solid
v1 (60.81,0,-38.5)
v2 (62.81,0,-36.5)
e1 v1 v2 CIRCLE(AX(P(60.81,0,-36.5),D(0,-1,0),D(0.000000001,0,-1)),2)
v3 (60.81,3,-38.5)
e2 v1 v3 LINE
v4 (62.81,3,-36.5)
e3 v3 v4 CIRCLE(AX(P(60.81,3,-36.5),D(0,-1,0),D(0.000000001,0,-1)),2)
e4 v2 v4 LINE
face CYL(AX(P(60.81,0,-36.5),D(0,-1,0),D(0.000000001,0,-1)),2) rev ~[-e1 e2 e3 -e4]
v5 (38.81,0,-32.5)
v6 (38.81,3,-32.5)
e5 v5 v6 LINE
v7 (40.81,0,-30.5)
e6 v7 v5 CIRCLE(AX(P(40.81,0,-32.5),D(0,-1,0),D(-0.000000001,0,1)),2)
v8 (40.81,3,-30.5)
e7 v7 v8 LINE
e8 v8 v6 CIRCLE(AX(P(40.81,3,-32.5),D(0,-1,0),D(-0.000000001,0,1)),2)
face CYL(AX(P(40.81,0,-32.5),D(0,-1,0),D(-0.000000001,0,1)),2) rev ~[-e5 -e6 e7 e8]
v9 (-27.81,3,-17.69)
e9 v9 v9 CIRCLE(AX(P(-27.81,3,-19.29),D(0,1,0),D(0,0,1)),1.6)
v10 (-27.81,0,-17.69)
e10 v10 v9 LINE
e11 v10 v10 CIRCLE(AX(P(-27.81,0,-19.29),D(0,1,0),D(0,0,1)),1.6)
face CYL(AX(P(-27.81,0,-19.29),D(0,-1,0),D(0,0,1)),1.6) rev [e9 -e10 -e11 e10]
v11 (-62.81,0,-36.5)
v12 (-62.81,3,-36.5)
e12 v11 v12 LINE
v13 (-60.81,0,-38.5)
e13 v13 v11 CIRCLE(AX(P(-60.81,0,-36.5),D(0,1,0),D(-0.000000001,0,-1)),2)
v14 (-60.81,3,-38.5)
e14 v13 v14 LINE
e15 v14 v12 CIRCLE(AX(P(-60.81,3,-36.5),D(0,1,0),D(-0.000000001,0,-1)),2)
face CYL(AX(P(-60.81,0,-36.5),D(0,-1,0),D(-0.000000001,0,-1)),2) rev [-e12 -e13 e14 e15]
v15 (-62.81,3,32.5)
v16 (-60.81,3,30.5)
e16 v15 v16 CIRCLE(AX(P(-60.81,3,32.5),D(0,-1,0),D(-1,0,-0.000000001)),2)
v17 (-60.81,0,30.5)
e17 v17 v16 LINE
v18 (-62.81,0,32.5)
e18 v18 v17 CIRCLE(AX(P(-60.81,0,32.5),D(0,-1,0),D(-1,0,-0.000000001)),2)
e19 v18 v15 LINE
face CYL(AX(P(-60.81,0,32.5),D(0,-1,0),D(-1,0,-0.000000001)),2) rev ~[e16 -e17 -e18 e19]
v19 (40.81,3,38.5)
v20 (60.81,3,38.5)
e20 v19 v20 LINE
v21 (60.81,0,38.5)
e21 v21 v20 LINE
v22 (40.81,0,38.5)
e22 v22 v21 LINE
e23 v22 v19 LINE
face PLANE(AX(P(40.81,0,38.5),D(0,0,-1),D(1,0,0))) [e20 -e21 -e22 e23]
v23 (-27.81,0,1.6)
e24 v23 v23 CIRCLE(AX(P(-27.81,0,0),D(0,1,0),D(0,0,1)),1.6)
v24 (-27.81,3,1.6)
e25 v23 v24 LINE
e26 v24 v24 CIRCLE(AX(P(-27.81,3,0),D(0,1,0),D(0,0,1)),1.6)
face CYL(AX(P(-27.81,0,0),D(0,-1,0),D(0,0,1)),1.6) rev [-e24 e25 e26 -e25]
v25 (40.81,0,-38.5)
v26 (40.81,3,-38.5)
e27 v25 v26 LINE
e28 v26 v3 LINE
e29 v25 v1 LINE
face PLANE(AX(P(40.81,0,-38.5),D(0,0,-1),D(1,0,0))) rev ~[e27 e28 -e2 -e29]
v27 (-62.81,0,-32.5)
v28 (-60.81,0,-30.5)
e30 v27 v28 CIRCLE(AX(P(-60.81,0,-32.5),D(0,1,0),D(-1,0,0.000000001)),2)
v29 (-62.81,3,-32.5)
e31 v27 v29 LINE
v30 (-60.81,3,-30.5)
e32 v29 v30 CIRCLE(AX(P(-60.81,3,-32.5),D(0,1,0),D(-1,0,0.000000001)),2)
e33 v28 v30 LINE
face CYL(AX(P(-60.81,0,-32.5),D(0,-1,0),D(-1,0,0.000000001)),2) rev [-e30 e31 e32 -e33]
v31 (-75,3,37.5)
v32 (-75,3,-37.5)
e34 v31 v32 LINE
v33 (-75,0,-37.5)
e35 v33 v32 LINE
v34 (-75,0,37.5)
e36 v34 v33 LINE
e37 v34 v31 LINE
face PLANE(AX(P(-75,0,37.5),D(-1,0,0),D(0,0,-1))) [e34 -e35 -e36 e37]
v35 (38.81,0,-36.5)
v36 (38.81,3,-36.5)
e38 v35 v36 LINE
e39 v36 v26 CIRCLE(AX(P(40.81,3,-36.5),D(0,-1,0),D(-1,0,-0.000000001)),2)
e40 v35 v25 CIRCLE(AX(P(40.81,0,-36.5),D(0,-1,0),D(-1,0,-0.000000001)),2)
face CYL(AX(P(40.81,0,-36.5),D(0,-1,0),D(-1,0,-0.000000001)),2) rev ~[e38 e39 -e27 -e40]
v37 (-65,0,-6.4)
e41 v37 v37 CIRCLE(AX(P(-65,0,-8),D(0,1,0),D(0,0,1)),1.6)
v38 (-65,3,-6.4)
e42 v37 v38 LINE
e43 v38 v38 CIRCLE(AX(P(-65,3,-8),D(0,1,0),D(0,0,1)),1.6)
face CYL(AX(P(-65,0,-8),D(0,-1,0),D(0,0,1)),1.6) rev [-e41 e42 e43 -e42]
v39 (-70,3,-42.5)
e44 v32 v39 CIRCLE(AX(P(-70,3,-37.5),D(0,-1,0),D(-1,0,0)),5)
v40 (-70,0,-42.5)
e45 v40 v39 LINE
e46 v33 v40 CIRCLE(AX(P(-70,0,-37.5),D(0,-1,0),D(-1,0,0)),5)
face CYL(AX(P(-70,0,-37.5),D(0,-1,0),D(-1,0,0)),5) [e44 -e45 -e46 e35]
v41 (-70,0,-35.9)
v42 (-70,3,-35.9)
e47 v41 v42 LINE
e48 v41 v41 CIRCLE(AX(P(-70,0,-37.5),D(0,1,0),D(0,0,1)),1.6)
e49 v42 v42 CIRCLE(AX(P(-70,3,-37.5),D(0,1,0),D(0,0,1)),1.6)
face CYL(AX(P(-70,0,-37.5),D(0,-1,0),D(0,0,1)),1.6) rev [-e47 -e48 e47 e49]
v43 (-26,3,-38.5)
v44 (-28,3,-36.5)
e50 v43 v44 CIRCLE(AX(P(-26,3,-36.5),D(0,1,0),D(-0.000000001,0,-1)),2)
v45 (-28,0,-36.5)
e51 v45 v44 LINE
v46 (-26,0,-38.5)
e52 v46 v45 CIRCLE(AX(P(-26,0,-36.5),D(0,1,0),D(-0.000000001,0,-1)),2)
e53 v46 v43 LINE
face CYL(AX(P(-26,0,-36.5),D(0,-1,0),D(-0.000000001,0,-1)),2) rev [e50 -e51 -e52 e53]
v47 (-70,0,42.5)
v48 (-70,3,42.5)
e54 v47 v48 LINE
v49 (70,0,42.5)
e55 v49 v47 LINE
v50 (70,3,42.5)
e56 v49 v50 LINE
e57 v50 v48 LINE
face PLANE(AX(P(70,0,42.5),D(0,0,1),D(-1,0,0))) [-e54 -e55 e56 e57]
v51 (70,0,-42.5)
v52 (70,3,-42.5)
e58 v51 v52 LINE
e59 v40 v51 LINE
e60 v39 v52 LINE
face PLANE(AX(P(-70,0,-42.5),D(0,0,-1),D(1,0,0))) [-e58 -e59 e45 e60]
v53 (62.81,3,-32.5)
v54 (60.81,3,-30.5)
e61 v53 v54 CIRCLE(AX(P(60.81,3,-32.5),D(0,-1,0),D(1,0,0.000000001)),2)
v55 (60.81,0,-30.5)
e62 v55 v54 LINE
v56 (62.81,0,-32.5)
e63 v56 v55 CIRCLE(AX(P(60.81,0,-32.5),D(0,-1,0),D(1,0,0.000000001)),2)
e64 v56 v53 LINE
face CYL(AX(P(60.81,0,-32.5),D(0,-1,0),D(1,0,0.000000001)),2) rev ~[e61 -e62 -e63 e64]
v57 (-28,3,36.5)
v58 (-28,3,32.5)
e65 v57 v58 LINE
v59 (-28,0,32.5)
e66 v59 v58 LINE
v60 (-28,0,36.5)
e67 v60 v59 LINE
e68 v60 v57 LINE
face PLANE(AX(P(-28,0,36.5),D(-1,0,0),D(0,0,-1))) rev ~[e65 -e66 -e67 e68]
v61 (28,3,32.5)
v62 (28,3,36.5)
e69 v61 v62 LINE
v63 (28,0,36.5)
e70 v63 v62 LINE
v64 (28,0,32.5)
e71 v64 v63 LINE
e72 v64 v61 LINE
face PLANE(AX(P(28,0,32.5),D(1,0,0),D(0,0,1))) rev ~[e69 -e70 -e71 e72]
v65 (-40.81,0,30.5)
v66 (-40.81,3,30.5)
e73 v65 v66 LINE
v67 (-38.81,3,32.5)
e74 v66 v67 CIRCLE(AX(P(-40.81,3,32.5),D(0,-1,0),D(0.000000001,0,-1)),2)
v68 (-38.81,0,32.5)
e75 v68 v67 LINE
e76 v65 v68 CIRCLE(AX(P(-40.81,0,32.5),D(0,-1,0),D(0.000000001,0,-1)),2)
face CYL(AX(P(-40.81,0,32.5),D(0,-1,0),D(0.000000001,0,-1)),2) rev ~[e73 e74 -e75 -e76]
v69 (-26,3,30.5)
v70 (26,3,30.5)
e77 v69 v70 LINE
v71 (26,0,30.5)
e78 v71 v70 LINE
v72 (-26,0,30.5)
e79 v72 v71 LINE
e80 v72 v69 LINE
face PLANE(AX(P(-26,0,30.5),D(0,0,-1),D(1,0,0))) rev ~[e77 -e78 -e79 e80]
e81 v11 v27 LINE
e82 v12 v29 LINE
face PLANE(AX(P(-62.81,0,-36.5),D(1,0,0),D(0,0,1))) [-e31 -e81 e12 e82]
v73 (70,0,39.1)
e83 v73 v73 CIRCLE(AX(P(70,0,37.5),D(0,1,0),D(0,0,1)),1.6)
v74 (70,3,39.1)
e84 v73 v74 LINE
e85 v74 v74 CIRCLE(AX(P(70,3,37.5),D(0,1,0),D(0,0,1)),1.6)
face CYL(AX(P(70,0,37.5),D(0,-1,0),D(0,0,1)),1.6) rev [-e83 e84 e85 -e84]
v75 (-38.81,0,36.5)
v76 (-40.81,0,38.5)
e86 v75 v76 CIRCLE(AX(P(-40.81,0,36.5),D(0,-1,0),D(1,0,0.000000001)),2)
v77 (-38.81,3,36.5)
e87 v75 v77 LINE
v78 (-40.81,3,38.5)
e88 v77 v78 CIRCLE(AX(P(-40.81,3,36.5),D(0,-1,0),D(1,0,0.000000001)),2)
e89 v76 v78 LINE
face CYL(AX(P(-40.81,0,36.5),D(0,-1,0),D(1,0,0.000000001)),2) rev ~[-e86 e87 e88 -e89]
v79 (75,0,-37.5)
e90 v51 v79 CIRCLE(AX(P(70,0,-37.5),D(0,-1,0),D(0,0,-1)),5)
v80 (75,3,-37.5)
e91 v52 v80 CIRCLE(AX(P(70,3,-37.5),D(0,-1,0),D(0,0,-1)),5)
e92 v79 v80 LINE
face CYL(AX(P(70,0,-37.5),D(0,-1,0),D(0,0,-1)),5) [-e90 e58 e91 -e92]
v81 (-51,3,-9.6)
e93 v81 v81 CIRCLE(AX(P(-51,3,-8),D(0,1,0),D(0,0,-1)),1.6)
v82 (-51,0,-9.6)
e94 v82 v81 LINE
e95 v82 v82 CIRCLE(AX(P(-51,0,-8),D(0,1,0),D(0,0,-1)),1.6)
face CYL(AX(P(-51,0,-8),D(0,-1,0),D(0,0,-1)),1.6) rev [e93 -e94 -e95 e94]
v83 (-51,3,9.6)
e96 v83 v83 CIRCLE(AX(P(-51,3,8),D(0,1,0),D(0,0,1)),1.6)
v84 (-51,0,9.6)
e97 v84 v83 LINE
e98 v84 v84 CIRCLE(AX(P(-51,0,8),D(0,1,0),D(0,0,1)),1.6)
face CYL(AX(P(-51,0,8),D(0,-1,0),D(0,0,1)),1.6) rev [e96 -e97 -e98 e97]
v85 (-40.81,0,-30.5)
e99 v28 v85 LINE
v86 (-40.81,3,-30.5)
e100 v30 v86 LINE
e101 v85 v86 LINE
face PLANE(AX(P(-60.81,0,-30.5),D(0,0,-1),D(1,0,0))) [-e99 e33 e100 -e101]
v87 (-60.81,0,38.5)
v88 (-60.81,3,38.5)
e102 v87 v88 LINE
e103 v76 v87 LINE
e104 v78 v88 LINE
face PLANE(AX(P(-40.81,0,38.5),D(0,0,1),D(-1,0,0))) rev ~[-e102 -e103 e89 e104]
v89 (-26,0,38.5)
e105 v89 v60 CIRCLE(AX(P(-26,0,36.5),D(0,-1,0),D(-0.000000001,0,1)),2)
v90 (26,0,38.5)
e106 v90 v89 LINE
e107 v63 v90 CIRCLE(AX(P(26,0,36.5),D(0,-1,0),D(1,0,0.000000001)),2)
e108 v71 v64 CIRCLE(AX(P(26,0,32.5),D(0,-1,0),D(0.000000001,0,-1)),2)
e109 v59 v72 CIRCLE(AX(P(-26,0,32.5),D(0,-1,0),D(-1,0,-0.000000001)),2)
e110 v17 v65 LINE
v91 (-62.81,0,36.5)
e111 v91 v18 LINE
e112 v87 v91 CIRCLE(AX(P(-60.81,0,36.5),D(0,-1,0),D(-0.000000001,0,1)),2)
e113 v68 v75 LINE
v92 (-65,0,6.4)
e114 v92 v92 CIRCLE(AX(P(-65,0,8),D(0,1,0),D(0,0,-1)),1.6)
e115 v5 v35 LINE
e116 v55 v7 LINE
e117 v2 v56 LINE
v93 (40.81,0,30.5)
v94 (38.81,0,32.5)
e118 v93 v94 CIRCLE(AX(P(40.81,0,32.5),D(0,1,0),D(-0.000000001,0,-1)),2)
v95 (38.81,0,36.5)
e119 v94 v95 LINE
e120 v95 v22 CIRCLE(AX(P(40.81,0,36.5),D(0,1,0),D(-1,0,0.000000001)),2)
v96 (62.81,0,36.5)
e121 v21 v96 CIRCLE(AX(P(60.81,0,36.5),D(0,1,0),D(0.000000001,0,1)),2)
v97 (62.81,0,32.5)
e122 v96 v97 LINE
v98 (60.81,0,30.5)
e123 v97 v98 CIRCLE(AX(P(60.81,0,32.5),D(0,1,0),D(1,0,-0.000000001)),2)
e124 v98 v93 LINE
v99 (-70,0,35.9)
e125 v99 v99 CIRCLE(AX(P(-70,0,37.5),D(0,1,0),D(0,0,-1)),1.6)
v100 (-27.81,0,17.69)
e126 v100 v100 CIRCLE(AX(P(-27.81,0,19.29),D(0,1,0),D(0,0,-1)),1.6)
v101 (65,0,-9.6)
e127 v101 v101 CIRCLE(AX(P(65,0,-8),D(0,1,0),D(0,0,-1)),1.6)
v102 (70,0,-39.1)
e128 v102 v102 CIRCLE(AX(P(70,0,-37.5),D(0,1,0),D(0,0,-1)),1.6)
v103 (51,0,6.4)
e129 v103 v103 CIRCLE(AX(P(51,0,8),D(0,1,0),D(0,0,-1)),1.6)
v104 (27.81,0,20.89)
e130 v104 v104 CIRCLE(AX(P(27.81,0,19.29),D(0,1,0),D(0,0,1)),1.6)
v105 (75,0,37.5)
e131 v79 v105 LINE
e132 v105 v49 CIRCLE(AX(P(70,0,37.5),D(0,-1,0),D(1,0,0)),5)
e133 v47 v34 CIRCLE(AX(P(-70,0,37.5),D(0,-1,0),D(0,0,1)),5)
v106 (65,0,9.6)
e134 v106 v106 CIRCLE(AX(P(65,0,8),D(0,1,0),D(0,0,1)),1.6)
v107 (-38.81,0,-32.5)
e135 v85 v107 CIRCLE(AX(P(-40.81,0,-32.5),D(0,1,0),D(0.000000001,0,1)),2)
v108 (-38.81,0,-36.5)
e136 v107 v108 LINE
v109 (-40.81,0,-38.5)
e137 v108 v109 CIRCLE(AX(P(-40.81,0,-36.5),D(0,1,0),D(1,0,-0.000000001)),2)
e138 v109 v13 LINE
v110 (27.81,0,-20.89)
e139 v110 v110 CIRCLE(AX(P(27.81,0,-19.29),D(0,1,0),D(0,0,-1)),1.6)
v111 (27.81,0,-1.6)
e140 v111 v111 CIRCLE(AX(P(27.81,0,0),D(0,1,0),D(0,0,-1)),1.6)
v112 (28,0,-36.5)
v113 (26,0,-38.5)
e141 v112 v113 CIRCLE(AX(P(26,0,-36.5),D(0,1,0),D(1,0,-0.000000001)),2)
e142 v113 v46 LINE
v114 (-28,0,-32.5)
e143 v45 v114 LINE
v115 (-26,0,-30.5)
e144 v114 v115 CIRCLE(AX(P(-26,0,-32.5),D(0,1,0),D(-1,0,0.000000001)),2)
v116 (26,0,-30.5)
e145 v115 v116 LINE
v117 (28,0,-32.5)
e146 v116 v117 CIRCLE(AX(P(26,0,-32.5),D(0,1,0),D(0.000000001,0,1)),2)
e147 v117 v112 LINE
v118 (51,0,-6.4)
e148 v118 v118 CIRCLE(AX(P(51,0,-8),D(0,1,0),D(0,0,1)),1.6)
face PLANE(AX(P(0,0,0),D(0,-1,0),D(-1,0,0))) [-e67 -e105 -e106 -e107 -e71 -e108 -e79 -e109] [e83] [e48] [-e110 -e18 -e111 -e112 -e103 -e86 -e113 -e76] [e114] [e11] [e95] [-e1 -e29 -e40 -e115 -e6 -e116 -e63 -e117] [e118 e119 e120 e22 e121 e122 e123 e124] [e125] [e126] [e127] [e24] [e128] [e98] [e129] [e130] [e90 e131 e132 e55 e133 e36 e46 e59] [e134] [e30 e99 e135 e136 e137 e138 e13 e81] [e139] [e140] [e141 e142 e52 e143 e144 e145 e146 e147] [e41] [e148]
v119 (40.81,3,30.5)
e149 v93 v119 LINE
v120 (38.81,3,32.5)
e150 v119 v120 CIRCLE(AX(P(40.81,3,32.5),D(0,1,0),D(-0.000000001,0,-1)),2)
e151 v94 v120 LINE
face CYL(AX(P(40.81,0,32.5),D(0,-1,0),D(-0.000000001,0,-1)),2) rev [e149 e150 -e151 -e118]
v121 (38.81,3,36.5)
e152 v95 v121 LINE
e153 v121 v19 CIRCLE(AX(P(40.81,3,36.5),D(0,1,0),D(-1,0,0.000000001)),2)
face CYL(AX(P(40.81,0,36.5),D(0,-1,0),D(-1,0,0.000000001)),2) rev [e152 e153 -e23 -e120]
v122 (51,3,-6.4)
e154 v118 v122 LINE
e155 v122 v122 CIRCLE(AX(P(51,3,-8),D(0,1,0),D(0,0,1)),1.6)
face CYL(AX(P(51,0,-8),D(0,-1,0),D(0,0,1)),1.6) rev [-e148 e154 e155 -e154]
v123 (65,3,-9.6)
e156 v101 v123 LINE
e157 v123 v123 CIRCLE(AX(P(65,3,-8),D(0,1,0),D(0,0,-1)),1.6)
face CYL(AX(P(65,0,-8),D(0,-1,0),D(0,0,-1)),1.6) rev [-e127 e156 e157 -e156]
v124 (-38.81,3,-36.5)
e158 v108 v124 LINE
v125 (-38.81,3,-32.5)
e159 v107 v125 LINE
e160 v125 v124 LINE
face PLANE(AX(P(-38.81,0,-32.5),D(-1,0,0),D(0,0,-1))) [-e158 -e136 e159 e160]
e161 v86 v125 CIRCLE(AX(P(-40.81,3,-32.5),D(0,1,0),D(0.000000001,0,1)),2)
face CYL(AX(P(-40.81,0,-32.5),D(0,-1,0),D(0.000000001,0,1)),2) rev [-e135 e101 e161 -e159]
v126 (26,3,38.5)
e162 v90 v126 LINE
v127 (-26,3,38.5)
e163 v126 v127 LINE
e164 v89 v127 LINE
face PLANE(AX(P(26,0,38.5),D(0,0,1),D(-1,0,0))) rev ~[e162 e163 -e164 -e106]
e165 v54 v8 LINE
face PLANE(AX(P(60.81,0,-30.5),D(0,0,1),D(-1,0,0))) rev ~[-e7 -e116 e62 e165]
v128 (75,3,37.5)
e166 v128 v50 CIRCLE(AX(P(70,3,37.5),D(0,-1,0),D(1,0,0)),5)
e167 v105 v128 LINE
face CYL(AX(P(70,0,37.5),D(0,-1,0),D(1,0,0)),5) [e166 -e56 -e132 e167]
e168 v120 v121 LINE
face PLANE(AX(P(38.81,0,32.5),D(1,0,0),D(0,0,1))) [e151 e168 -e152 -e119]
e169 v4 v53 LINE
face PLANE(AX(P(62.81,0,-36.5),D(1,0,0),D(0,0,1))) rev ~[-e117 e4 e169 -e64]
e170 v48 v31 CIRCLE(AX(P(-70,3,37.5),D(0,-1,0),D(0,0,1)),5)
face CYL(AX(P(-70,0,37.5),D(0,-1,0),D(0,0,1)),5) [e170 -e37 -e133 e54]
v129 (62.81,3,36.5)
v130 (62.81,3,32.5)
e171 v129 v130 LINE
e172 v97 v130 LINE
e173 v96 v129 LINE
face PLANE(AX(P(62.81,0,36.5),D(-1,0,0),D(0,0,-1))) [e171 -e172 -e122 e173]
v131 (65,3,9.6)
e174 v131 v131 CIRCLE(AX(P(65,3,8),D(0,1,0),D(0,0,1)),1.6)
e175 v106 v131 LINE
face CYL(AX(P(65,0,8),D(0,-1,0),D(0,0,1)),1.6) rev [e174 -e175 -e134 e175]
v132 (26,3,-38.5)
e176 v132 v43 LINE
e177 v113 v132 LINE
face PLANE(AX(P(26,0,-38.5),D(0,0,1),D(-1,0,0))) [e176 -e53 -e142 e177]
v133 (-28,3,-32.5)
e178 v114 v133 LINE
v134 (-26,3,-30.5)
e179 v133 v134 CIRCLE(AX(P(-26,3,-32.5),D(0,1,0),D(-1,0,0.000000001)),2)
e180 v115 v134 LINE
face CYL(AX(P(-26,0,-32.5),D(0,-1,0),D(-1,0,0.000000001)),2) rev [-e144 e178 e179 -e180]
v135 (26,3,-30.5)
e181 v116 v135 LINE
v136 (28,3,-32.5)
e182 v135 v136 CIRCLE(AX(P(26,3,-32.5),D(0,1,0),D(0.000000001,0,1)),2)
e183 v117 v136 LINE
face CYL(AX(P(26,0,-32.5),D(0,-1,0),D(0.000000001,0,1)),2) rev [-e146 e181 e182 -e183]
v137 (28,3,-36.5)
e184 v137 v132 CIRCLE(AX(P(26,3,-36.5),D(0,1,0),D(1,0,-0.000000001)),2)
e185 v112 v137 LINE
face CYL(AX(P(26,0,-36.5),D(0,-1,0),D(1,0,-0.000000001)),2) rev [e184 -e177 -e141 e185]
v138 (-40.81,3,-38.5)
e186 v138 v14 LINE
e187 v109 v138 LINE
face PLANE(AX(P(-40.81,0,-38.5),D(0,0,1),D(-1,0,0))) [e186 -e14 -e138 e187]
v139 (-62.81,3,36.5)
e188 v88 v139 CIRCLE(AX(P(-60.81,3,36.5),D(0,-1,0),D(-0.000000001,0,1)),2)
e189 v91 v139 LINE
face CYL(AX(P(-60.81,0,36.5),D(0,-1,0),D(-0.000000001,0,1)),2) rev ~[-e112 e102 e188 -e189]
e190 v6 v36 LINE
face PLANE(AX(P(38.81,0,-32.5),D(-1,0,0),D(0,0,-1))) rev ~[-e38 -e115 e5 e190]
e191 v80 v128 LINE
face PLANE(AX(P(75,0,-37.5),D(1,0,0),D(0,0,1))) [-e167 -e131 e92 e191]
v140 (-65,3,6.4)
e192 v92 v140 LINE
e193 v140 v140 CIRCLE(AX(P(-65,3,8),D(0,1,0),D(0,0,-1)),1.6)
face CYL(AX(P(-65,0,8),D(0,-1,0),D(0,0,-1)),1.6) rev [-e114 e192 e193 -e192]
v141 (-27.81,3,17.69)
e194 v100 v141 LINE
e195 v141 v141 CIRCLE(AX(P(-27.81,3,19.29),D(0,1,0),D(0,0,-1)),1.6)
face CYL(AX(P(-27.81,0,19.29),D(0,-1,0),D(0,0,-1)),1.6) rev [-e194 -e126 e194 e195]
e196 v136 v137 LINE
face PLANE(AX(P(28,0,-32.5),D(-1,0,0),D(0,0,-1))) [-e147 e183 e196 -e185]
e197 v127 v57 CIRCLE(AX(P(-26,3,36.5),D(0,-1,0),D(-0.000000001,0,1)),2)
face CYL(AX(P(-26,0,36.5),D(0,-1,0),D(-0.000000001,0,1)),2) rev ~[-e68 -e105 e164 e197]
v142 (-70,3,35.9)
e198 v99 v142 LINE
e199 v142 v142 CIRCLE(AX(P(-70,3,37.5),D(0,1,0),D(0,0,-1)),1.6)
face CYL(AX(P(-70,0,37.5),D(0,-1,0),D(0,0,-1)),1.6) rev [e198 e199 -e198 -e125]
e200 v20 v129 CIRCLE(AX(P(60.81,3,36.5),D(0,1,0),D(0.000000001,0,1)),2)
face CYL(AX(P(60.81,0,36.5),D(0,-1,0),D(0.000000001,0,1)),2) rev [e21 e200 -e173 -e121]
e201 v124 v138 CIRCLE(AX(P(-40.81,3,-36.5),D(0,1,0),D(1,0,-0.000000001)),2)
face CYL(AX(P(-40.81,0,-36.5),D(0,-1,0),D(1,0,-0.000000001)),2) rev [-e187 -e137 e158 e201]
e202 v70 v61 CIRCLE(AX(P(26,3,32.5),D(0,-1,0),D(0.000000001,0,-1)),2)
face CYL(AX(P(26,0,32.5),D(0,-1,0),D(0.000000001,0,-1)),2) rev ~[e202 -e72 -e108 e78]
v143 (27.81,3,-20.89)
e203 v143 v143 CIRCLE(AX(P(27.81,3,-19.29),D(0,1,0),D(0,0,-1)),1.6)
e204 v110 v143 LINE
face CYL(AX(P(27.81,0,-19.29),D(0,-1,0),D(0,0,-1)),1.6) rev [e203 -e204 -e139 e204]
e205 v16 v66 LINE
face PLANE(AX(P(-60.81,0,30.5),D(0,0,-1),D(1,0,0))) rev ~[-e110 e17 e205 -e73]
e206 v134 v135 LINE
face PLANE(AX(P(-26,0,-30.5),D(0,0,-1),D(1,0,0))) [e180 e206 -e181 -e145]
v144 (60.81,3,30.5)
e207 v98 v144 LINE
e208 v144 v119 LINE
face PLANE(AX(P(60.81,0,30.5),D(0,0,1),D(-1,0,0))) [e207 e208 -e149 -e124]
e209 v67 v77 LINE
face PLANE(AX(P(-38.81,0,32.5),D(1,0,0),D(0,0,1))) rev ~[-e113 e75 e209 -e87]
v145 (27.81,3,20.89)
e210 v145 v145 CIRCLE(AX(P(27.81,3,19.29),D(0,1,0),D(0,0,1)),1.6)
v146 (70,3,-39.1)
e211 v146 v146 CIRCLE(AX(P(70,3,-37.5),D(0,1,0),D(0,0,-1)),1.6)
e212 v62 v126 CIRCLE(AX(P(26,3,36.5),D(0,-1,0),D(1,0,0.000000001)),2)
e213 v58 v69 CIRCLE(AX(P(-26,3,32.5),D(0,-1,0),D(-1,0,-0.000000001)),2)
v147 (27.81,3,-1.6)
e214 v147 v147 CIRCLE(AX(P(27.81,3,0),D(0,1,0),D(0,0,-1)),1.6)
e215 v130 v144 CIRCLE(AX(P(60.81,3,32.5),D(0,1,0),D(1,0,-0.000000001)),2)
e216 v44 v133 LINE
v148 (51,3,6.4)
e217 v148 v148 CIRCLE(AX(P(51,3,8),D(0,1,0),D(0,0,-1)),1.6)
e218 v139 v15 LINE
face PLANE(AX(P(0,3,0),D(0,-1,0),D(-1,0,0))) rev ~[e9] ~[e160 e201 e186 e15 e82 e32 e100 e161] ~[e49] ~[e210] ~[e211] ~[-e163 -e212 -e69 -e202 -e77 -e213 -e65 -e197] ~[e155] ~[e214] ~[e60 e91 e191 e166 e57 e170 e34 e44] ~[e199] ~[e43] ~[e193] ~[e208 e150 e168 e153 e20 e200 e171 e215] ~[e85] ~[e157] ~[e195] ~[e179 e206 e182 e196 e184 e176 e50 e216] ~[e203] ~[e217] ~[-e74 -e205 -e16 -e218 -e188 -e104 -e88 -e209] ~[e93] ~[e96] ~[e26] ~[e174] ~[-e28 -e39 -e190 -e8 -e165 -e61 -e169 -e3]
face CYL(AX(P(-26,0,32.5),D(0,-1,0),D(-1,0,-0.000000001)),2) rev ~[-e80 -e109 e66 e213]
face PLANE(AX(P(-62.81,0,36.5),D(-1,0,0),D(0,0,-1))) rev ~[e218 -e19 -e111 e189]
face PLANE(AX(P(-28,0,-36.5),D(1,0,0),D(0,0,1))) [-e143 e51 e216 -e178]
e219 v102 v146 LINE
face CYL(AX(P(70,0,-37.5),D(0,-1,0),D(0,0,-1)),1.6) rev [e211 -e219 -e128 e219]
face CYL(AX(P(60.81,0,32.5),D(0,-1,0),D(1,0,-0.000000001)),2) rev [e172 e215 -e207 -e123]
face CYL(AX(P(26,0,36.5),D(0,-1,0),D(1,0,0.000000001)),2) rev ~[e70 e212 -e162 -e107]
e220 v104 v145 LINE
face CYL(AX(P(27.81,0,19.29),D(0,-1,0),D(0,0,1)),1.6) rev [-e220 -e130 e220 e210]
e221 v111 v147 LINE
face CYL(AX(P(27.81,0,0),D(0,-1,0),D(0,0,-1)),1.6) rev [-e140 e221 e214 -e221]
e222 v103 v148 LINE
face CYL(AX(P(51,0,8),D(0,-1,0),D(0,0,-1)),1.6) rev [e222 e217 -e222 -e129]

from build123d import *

# Parameters (mm, degrees)
SKETCH1_R           = 1.6
BOSS_EXTRUDE1_DEPTH = 3


with BuildPart() as part:
    # Sketch1 → Boss-Extrude1 (new body)
    with BuildSketch(Plane(origin=(0, 0, 0), x_dir=(1, 0, 0), z_dir=(0, 1, 0))):
        with BuildLine():
            Line((-70, 42.5), (70, 42.5))
            ThreePointArc((70, 42.5), (73.535533906, 41.035533906), (75, 37.5))
            Line((75, 37.5), (75, -37.5))
            ThreePointArc((75, -37.5), (73.535533906, -41.035533906), (70, -42.5))
            Line((70, -42.5), (-70, -42.5))
            ThreePointArc((-70, -42.5), (-73.535533906, -41.035533906), (-75, -37.5))
            Line((-75, -37.5), (-75, 37.5))
            ThreePointArc((-75, 37.5), (-73.535533906, 41.035533906), (-70, 42.5))
        make_face()
        with Locations(Location((-65, 8, 0), (0, 0, 270))):
            Circle(SKETCH1_R, mode=Mode.SUBTRACT)
        with Locations(Location((-65, -8, 0), (0, 0, 90))):
            Circle(SKETCH1_R, mode=Mode.SUBTRACT)
        with Locations(Location((-51, 8, 0), (0, 0, 90))):
            Circle(SKETCH1_R, mode=Mode.SUBTRACT)
        with Locations(Location((-51, -8, 0), (0, 0, 270))):
            Circle(SKETCH1_R, mode=Mode.SUBTRACT)
        with Locations(Location((51, -8, 0), (0, 0, 90))):
            Circle(SKETCH1_R, mode=Mode.SUBTRACT)
        with Locations(Location((51, 8, 0), (0, 0, 270))):
            Circle(SKETCH1_R, mode=Mode.SUBTRACT)
        with Locations(Location((65, -8, 0), (0, 0, 270))):
            Circle(SKETCH1_R, mode=Mode.SUBTRACT)
        with Locations(Location((65, 8, 0), (0, 0, 90))):
            Circle(SKETCH1_R, mode=Mode.SUBTRACT)
        with Locations(Location((-27.81, 19.29, 0), (0, 0, 270))):
            Circle(SKETCH1_R, mode=Mode.SUBTRACT)
        with Locations(Location((-27.81, 0, 0), (0, 0, 270))):
            Circle(SKETCH1_R, mode=Mode.SUBTRACT)
        with Locations(Location((-27.81, -19.29, 0), (0, 0, 90))):
            Circle(SKETCH1_R, mode=Mode.SUBTRACT)
        with Locations(Location((27.81, -19.29, 0), (0, 0, 270))):
            Circle(SKETCH1_R, mode=Mode.SUBTRACT)
        with Locations(Location((27.81, 19.29, 0), (0, 0, 90))):
            Circle(SKETCH1_R, mode=Mode.SUBTRACT)
        with Locations(Location((27.81, 0, 0), (0, 0, 90))):
            Circle(SKETCH1_R, mode=Mode.SUBTRACT)
        with Locations(Location((-70, 37.5, 0), (0, 0, 270))):
            Circle(SKETCH1_R, mode=Mode.SUBTRACT)
        with Locations(Location((-70, -37.5, 0), (0, 0, 90))):
            Circle(SKETCH1_R, mode=Mode.SUBTRACT)
        with Locations(Location((70, -37.5, 0), (0, 0, 270))):
            Circle(SKETCH1_R, mode=Mode.SUBTRACT)
        with Locations(Location((70, 37.5, 0), (0, 0, 90))):
            Circle(SKETCH1_R, mode=Mode.SUBTRACT)
        with BuildLine():
            Line((28, 32.5), (28, 36.5))
            ThreePointArc((28, 36.5), (27.414213562, 37.914213562), (26, 38.5))
            Line((26, 38.5), (-26, 38.5))
            ThreePointArc((-26, 38.5), (-27.414213562, 37.914213562), (-28, 36.5))
            Line((-28, 36.5), (-28, 32.5))
            ThreePointArc((-28, 32.5), (-27.414213562, 31.085786438), (-26, 30.5))
            Line((-26, 30.5), (26, 30.5))
            ThreePointArc((26, 30.5), (27.414213562, 31.085786438), (28, 32.5))
        make_face(mode=Mode.SUBTRACT)
        with BuildLine():
            Line((-26, -30.5), (26, -30.5))
            ThreePointArc((26, -30.5), (27.414213562, -31.085786438), (28, -32.5))
            Line((28, -32.5), (28, -36.5))
            ThreePointArc((28, -36.5), (27.414213562, -37.914213562), (26, -38.5))
            Line((26, -38.5), (-26, -38.5))
            ThreePointArc((-26, -38.5), (-27.414213562, -37.914213562), (-28, -36.5))
            Line((-28, -36.5), (-28, -32.5))
            ThreePointArc((-28, -32.5), (-27.414213562, -31.085786438), (-26, -30.5))
        make_face(mode=Mode.SUBTRACT)
        with BuildLine():
            Line((-38.81, 32.5), (-38.81, 36.5))
            ThreePointArc((-38.81, 36.5), (-39.395786438, 37.914213562), (-40.81, 38.5))
            Line((-40.81, 38.5), (-60.81, 38.5))
            ThreePointArc((-60.81, 38.5), (-62.224213562, 37.914213562), (-62.81, 36.5))
            Line((-62.81, 36.5), (-62.81, 32.5))
            ThreePointArc((-62.81, 32.5), (-62.224213562, 31.085786438), (-60.81, 30.5))
            Line((-60.81, 30.5), (-40.81, 30.5))
            ThreePointArc((-40.81, 30.5), (-39.395786438, 31.085786438), (-38.81, 32.5))
        make_face(mode=Mode.SUBTRACT)
        with BuildLine():
            Line((-60.81, -30.5), (-40.81, -30.5))
            ThreePointArc((-40.81, -30.5), (-39.395786438, -31.085786438), (-38.81, -32.5))
            Line((-38.81, -32.5), (-38.81, -36.5))
            ThreePointArc((-38.81, -36.5), (-39.395786438, -37.914213562), (-40.81, -38.5))
            Line((-40.81, -38.5), (-60.81, -38.5))
            ThreePointArc((-60.81, -38.5), (-62.224213562, -37.914213562), (-62.81, -36.5))
            Line((-62.81, -36.5), (-62.81, -32.5))
            ThreePointArc((-62.81, -32.5), (-62.224213562, -31.085786438), (-60.81, -30.5))
        make_face(mode=Mode.SUBTRACT)
        with BuildLine():
            Line((38.81, 32.5), (38.81, 36.5))
            ThreePointArc((38.81, 36.5), (39.395786438, 37.914213562), (40.81, 38.5))
            Line((40.81, 38.5), (60.81, 38.5))
            ThreePointArc((60.81, 38.5), (62.224213562, 37.914213562), (62.81, 36.5))
            Line((62.81, 36.5), (62.81, 32.5))
            ThreePointArc((62.81, 32.5), (62.224213562, 31.085786438), (60.81, 30.5))
            Line((60.81, 30.5), (40.81, 30.5))
            ThreePointArc((40.81, 30.5), (39.395786438, 31.085786438), (38.81, 32.5))
        make_face(mode=Mode.SUBTRACT)
        with BuildLine():
            Line((38.81, -32.5), (38.81, -36.5))
            ThreePointArc((38.81, -36.5), (39.395786438, -37.914213562), (40.81, -38.5))
            Line((40.81, -38.5), (60.81, -38.5))
            ThreePointArc((60.81, -38.5), (62.224213562, -37.914213562), (62.81, -36.5))
            Line((62.81, -36.5), (62.81, -32.5))
            ThreePointArc((62.81, -32.5), (62.224213562, -31.085786438), (60.81, -30.5))
            Line((60.81, -30.5), (40.81, -30.5))
            ThreePointArc((40.81, -30.5), (39.395786438, -31.085786438), (38.81, -32.5))
        make_face(mode=Mode.SUBTRACT)
    extrude(amount=BOSS_EXTRUDE1_DEPTH)


solid = part.part
